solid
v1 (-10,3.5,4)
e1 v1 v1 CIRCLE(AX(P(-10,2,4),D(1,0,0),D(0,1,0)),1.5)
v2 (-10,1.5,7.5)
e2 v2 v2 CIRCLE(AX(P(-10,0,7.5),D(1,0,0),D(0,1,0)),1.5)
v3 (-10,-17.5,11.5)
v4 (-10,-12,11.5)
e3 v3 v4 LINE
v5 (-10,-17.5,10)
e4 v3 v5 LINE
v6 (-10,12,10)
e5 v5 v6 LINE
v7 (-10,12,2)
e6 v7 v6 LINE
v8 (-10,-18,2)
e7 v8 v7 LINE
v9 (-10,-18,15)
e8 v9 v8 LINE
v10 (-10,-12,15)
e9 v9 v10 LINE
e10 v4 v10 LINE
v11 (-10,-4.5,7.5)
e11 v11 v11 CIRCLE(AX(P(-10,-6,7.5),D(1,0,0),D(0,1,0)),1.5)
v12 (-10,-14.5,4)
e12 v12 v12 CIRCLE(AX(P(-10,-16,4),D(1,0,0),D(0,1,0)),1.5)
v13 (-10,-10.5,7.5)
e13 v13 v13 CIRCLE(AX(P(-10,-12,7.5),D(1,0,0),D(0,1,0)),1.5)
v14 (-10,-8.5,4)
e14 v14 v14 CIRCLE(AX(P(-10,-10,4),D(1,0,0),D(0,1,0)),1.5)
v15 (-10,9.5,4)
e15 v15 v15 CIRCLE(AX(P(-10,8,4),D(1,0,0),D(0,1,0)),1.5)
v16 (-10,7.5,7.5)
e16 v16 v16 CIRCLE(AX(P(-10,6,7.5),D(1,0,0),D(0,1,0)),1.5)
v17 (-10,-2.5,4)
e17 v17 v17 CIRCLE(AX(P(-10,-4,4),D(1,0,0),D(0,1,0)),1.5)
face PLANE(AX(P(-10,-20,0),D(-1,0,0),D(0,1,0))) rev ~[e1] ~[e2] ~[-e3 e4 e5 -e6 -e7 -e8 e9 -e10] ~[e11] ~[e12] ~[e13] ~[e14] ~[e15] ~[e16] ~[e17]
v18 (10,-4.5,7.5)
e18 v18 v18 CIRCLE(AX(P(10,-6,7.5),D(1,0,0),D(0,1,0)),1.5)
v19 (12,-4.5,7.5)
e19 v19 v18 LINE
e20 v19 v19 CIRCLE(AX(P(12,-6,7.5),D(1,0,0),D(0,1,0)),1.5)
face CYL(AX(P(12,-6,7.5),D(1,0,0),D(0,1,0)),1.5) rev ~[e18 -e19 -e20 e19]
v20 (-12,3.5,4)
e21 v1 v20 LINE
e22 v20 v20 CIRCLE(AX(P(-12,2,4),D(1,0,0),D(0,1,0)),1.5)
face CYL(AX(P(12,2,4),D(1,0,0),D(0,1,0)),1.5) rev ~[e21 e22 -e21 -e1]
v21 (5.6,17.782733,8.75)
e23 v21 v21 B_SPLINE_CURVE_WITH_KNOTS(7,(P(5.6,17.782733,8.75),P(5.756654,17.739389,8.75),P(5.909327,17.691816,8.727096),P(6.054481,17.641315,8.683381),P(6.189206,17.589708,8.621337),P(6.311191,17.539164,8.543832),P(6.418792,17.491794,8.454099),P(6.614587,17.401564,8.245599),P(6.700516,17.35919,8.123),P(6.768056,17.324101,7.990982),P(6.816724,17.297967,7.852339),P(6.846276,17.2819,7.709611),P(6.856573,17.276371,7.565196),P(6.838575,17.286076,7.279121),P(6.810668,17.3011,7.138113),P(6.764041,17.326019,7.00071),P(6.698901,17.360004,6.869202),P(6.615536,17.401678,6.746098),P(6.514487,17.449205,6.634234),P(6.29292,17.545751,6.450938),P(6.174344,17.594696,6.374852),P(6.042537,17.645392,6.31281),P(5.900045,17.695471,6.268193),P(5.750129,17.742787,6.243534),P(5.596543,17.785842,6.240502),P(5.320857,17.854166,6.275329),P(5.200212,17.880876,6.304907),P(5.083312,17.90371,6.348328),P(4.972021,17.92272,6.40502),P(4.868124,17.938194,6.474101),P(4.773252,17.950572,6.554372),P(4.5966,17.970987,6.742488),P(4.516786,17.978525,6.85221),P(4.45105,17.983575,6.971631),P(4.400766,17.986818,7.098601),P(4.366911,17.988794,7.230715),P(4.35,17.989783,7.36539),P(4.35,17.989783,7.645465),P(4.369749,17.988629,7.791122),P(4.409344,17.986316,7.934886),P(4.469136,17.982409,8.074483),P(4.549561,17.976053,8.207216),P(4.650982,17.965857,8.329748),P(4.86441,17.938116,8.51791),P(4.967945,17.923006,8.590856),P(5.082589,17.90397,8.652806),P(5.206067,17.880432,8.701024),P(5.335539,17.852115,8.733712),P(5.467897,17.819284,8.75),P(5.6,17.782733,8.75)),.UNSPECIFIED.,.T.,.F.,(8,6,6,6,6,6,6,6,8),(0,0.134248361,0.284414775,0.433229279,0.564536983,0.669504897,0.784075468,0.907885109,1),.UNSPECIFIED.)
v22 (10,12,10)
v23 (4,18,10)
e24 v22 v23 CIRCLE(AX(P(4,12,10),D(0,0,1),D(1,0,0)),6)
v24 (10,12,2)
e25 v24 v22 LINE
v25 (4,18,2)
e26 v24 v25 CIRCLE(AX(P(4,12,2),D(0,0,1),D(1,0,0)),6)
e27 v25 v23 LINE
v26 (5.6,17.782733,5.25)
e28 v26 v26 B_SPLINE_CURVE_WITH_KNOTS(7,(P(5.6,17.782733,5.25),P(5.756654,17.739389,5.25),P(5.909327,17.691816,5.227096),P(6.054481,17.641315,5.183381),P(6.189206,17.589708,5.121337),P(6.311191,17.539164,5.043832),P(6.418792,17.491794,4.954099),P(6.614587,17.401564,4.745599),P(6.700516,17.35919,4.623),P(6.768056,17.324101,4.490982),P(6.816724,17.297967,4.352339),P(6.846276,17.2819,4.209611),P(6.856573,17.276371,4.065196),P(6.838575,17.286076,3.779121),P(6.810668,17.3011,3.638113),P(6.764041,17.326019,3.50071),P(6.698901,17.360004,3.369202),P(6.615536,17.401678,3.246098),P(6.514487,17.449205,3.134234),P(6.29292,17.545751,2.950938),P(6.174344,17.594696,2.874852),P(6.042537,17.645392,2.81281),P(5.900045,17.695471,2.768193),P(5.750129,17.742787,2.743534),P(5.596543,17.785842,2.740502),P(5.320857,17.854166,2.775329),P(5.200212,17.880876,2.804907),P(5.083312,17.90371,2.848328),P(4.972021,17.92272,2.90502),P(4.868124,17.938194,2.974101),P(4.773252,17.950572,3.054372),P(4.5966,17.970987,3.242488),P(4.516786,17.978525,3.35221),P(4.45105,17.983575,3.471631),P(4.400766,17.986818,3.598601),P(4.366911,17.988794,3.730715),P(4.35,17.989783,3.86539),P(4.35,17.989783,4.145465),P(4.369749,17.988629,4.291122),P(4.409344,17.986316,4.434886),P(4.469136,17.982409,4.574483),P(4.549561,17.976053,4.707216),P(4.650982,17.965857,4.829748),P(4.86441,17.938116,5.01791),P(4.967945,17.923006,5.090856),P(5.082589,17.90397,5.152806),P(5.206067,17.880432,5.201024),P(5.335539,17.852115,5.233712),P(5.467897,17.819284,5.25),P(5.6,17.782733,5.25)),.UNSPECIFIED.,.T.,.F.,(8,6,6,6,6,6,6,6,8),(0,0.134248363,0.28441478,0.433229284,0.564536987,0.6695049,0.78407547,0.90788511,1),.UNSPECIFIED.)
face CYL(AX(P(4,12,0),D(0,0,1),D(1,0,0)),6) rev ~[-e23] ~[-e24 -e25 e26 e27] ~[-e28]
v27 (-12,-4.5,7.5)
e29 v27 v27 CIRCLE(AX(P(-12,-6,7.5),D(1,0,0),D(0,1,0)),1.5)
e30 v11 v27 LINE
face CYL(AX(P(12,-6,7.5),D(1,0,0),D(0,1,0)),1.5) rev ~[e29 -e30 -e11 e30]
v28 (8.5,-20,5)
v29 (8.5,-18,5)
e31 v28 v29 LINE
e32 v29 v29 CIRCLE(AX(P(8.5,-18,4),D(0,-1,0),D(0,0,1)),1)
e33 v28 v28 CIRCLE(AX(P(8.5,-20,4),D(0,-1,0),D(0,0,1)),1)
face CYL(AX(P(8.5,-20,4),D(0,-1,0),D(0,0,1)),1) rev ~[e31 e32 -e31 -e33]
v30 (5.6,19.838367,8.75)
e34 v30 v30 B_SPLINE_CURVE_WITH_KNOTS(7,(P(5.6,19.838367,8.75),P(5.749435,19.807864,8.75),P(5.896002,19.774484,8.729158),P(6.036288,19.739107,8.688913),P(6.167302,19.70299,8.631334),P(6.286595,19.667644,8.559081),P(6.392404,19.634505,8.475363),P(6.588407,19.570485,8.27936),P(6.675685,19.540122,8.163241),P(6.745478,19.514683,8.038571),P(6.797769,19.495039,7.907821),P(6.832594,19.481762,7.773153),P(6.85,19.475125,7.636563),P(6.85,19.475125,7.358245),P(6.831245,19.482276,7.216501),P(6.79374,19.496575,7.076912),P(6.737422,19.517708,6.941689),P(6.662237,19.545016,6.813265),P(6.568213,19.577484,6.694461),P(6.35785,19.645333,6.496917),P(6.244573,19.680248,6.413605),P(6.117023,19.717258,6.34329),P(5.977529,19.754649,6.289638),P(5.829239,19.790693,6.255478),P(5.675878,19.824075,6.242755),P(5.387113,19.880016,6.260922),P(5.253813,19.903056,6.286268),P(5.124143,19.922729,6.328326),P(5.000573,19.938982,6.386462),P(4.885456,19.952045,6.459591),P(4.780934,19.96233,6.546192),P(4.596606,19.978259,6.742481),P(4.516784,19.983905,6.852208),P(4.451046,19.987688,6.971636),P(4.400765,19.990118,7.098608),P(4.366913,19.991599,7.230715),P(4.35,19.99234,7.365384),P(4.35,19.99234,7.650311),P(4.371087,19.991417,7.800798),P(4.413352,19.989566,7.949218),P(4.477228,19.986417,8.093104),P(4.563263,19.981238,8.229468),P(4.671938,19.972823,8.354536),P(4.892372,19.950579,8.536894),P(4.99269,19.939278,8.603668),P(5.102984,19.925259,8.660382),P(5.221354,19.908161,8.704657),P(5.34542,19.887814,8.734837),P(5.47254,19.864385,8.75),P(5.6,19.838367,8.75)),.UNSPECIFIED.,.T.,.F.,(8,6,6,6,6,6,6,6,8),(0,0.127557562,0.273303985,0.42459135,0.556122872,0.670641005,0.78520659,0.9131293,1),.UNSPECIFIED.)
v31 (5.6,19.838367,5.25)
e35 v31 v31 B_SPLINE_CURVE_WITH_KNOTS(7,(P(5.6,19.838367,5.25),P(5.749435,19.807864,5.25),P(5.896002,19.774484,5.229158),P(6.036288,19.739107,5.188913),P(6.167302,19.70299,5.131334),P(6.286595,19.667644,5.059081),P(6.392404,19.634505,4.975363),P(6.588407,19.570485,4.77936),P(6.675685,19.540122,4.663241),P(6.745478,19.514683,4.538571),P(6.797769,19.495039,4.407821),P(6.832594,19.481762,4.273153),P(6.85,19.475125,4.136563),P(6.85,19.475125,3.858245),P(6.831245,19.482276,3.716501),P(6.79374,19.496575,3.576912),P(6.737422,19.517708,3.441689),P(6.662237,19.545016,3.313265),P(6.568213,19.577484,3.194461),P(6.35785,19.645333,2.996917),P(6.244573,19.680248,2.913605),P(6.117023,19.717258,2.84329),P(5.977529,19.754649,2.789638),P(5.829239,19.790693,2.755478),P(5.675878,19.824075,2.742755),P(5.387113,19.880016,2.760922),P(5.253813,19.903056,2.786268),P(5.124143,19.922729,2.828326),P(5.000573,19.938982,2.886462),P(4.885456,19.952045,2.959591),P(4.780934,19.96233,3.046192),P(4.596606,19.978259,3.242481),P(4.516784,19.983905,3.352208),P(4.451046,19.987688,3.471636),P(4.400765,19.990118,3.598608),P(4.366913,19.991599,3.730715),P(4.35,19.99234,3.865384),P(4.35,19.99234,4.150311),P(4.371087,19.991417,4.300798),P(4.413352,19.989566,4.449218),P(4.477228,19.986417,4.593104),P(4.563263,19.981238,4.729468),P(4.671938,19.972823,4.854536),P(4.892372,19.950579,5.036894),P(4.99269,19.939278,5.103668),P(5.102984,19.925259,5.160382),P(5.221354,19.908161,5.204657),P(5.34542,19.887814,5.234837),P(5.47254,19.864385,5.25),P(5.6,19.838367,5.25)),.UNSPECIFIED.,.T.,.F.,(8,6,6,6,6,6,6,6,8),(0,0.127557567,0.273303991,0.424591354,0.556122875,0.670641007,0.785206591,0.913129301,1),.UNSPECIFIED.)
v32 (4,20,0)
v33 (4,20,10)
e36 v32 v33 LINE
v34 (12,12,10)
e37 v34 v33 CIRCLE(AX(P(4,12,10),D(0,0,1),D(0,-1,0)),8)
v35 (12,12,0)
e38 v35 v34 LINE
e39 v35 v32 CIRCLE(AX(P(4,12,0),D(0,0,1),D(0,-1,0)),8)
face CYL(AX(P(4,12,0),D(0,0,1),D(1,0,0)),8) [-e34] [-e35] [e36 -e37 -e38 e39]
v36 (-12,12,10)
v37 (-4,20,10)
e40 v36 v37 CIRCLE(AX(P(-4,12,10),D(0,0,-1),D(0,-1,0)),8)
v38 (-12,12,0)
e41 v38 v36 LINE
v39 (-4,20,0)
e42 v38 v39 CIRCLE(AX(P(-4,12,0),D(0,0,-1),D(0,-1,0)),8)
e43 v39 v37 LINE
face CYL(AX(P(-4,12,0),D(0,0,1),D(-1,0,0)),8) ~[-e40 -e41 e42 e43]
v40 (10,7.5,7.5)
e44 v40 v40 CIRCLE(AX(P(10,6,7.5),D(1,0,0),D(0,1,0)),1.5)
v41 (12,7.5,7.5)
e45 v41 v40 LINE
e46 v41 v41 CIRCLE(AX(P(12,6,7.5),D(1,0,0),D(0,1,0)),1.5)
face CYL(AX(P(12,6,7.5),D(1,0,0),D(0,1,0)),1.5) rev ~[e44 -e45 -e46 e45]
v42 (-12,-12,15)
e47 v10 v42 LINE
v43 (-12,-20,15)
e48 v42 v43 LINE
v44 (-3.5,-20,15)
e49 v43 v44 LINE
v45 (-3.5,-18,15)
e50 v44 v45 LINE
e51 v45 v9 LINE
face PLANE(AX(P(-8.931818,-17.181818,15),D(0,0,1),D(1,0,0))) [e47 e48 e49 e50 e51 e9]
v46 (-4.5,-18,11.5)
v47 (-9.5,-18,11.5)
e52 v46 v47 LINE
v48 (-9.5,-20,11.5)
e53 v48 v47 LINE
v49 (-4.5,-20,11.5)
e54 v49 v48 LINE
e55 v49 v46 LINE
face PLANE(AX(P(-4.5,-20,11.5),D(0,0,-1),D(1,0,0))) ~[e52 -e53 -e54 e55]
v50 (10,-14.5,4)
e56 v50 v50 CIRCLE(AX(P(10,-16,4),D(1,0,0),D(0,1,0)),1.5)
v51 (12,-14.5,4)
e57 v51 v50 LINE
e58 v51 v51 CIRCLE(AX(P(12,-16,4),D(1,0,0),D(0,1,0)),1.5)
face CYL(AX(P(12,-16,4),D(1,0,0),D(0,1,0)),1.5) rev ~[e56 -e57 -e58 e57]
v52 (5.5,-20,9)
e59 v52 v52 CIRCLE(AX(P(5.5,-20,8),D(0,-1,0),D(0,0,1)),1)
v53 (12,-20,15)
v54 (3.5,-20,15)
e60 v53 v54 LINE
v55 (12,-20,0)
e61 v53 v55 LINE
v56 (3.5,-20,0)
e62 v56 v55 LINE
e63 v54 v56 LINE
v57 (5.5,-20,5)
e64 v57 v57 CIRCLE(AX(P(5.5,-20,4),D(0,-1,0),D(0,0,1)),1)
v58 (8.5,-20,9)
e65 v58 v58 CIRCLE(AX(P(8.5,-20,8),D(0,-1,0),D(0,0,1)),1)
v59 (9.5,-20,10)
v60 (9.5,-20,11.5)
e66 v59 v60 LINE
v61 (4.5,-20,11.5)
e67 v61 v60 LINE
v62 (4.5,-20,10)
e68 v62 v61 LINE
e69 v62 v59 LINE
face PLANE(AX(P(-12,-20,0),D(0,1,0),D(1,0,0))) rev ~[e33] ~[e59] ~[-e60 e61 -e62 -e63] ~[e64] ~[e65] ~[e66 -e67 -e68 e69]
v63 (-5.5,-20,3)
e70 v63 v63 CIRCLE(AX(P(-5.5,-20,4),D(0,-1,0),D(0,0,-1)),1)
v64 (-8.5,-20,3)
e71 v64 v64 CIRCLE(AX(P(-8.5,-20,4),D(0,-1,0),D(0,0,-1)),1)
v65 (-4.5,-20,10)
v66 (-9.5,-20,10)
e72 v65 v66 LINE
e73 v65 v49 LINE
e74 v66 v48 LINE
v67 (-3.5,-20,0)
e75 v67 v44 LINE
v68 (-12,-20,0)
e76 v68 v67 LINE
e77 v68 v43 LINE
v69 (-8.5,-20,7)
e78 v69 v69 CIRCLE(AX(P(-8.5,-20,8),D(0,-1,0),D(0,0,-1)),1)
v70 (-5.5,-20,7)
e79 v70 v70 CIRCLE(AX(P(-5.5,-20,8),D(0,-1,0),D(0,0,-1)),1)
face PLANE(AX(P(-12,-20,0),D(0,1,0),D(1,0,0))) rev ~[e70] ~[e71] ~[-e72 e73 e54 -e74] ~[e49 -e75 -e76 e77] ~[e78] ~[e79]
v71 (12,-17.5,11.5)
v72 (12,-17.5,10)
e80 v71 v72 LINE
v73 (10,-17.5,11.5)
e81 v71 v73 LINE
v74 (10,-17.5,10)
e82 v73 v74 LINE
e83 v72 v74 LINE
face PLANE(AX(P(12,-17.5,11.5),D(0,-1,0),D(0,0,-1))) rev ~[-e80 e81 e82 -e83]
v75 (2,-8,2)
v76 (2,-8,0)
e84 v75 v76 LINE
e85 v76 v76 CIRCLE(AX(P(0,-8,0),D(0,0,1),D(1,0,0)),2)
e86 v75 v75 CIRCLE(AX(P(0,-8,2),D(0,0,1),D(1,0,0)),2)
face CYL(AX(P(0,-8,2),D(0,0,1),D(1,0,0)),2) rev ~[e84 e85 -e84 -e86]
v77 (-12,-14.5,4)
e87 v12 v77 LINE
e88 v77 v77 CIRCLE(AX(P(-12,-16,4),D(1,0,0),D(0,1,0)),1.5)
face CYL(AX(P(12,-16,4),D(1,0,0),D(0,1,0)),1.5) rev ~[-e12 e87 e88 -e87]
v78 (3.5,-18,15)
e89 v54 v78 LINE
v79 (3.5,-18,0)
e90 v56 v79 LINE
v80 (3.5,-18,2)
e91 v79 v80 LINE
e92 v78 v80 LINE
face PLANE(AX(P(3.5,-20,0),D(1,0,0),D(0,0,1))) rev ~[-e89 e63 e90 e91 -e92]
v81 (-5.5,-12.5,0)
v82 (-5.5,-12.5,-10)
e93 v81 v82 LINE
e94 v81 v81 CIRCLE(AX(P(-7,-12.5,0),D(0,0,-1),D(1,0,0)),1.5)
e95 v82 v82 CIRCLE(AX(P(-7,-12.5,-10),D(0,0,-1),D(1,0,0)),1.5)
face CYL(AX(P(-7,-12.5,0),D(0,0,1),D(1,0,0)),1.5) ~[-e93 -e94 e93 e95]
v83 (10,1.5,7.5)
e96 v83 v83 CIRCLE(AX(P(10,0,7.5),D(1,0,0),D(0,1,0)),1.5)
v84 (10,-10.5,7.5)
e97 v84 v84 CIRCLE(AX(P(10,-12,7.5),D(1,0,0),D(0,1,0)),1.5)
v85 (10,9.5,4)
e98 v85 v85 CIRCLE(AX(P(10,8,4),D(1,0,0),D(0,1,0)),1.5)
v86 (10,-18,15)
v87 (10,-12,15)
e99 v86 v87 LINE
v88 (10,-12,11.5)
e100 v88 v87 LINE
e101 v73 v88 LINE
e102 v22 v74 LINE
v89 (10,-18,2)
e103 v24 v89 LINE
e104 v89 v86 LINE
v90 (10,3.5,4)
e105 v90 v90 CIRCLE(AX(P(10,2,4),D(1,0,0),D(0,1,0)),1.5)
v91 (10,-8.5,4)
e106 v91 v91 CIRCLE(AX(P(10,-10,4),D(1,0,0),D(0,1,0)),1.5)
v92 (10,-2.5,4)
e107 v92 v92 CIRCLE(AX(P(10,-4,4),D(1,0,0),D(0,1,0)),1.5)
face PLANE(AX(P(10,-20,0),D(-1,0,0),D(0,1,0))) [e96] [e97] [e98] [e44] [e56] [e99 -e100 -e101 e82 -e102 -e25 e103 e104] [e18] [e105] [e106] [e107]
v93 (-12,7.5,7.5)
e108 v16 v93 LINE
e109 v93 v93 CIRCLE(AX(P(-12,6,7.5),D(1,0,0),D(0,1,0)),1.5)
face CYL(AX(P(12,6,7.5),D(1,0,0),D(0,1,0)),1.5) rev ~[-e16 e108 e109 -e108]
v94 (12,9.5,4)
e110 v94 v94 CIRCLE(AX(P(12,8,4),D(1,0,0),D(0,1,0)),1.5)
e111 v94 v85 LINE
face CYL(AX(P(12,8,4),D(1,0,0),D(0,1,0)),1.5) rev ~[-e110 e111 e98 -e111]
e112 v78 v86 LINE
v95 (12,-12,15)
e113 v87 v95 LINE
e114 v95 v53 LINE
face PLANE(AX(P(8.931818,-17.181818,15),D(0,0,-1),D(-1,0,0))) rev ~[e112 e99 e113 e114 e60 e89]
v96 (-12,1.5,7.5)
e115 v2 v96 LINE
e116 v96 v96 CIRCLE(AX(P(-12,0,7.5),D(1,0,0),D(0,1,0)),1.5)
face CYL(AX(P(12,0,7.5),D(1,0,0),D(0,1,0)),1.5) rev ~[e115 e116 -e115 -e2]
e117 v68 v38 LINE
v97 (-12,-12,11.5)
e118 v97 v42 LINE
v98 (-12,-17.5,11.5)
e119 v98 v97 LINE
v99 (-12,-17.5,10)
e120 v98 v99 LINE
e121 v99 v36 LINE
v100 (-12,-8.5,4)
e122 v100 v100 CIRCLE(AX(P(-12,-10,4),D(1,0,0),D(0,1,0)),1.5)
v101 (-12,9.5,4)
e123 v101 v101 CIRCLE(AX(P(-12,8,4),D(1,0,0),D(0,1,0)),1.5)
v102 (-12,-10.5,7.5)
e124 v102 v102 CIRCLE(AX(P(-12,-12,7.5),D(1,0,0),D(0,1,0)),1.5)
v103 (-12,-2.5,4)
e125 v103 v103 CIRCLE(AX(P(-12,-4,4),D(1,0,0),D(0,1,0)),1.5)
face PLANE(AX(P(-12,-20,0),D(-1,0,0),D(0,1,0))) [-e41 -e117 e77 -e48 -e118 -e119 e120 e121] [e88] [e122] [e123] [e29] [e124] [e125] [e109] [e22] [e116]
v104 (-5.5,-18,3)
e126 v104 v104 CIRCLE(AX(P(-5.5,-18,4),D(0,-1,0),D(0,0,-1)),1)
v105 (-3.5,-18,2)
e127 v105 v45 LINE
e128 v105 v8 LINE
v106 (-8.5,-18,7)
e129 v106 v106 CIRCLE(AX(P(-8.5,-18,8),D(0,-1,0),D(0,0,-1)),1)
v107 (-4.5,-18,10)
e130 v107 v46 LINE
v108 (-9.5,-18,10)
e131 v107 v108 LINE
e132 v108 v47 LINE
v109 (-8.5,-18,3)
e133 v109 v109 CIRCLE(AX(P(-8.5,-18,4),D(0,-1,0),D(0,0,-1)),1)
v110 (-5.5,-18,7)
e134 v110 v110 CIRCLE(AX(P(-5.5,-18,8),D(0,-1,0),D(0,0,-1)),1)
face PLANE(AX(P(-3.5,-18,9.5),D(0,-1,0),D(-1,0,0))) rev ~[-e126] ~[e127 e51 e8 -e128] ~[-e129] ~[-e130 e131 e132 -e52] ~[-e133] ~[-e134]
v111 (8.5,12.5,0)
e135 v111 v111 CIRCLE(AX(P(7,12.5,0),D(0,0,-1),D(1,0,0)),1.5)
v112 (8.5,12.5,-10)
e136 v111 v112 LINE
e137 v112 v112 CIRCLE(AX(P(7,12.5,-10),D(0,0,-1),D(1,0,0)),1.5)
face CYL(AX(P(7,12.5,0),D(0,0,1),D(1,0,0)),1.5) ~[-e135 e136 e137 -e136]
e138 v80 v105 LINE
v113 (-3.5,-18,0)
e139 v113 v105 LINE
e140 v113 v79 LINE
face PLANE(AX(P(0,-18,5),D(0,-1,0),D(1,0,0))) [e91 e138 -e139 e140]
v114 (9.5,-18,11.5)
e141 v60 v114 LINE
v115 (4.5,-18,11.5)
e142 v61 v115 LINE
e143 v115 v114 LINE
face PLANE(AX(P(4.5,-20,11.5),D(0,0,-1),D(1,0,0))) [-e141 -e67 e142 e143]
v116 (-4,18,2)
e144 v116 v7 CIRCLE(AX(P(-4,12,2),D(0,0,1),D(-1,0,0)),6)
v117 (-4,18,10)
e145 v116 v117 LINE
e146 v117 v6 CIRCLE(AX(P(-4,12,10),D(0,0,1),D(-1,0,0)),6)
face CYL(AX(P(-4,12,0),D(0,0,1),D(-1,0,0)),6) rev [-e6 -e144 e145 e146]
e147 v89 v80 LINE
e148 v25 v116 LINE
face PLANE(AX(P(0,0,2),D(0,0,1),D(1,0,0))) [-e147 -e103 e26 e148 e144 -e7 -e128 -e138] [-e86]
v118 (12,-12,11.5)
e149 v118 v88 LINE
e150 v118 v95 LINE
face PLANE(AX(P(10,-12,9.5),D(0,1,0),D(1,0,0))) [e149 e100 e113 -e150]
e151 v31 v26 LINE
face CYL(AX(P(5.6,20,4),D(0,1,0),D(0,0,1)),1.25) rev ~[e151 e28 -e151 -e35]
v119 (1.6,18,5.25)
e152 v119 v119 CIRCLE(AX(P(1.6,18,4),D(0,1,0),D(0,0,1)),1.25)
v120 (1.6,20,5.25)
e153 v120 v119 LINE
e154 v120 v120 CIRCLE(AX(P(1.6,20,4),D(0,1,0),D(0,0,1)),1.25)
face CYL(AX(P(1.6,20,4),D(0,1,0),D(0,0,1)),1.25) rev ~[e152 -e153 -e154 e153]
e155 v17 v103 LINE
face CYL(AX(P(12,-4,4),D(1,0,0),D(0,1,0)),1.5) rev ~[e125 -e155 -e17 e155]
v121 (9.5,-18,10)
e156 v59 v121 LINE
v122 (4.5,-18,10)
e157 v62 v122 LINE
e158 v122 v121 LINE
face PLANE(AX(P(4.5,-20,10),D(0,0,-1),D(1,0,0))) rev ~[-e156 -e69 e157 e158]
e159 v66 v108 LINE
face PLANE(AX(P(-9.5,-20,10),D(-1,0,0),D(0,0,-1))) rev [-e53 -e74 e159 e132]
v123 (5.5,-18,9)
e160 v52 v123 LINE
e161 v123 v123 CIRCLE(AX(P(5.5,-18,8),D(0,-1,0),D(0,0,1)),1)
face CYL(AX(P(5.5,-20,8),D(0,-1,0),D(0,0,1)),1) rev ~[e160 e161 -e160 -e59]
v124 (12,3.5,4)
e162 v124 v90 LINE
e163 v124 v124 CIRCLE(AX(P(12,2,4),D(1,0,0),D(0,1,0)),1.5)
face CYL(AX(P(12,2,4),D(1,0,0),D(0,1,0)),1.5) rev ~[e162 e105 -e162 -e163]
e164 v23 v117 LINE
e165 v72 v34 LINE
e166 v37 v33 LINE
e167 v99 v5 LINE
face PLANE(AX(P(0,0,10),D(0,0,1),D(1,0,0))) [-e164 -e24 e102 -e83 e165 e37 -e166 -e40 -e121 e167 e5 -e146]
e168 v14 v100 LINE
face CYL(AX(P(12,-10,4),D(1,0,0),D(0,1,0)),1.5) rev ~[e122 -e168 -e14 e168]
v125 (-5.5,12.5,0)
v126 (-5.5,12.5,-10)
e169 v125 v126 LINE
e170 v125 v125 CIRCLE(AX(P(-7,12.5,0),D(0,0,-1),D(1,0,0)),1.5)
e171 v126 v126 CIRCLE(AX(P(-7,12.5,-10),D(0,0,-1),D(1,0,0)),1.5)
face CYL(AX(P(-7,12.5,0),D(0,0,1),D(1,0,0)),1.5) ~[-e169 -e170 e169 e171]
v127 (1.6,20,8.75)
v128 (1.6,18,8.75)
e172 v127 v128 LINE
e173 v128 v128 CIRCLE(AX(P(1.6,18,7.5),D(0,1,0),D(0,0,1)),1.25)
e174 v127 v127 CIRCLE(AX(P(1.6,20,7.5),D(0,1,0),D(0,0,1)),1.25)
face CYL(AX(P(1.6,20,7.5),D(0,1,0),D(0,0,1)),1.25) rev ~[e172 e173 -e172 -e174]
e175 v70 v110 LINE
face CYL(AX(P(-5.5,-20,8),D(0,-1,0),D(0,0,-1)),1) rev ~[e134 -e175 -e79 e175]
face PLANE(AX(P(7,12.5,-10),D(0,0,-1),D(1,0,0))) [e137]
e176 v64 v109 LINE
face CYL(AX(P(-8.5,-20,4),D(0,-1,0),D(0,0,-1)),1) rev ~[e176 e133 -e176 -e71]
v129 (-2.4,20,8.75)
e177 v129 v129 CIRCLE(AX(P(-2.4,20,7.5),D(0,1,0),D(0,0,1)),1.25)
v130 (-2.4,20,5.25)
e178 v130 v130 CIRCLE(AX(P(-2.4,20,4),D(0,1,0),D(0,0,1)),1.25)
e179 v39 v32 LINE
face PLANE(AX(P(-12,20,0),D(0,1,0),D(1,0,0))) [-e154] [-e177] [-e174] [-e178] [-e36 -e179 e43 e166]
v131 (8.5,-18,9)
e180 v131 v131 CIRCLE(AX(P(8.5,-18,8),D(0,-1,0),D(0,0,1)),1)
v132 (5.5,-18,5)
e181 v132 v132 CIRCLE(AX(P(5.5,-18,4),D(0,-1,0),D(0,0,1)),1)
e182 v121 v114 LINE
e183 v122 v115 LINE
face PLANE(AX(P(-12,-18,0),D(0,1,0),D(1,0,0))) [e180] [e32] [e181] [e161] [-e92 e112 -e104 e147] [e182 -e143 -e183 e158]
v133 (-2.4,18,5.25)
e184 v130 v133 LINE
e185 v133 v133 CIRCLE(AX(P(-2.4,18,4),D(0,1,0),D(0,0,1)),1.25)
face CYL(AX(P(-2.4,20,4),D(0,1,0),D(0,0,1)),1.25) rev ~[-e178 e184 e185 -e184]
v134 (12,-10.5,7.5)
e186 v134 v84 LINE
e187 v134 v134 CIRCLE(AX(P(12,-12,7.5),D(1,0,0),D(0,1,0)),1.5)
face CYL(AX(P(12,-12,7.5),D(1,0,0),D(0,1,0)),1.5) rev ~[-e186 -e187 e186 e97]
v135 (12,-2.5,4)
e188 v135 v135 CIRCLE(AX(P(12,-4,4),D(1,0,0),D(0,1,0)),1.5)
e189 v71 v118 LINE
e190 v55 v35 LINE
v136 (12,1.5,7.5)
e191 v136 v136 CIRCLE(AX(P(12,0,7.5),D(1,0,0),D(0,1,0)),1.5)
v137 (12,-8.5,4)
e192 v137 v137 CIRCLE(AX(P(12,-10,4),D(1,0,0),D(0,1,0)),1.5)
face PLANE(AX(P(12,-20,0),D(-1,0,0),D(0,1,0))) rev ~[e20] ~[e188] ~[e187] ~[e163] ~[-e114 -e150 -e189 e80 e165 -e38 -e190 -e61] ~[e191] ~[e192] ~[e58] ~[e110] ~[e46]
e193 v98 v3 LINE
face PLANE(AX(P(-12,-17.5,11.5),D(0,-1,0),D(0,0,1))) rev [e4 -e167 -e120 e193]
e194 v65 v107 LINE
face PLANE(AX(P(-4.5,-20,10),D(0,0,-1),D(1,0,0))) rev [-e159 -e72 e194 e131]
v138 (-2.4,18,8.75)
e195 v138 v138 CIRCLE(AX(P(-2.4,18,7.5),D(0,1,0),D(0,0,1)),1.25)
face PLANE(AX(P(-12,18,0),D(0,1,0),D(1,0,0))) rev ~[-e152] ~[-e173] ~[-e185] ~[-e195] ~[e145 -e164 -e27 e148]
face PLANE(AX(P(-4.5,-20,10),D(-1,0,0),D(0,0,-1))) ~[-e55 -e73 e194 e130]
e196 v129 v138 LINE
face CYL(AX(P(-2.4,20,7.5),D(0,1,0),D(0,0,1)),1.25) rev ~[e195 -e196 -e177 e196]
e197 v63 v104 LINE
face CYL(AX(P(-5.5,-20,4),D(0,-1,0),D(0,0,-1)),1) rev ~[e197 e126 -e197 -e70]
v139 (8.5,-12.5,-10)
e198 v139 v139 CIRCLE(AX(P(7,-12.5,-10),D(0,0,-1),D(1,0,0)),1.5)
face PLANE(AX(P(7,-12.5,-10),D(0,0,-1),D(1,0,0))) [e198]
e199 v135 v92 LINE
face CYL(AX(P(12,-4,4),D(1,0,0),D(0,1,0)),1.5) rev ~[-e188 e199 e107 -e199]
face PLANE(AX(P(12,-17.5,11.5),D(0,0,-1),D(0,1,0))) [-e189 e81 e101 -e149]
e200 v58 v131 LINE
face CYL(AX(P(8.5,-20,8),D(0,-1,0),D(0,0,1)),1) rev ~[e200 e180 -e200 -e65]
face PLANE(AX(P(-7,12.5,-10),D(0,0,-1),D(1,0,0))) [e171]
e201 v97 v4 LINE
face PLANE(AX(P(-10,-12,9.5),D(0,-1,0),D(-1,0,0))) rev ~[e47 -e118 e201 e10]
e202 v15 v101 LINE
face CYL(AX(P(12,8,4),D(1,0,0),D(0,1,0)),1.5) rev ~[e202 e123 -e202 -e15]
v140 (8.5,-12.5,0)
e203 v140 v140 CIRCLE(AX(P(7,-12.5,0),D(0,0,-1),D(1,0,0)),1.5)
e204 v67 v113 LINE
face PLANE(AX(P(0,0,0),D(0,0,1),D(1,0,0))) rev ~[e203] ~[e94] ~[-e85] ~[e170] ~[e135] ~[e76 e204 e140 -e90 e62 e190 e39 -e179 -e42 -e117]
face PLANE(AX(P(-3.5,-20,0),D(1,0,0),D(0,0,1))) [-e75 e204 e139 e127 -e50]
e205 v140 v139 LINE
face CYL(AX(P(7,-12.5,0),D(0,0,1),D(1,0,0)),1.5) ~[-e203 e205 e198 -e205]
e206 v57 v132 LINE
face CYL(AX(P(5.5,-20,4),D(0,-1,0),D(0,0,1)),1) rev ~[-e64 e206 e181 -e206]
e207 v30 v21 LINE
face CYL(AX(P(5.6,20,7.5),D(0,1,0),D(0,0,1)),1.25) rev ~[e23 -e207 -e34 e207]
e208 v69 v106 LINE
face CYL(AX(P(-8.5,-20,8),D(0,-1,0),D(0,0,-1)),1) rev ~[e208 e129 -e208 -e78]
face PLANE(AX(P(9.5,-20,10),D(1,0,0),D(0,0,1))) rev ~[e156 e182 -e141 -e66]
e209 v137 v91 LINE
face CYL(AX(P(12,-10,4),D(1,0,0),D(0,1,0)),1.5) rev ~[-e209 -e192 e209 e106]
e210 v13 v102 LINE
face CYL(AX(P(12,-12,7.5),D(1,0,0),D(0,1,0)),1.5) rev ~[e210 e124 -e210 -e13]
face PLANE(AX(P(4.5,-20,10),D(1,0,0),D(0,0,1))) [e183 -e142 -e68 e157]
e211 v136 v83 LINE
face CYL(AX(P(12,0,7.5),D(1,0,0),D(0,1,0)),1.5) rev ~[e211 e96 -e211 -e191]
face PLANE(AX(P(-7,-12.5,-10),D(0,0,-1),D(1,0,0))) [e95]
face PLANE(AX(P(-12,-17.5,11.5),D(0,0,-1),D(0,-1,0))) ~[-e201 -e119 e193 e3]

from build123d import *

# Parameters (mm, degrees)
ESQUISSE1_W             = 24
ESQUISSE1_H             = 40
BOSS_EXTRU_1_DEPTH      = 10
CONG_1_R                = 8
COQUE1_T                = -2
ESQUISSE2_W             = 7
ESQUISSE2_H             = 10
ENL_V_MAT_EXTRU_1_DEPTH = 2
ESQUISSE3_R             = 1.5
ENL_V_MAT_EXTRU_2_DEPTH = 33.802438934
ESQUISSE4_R             = 1.25
ENL_V_MAT_EXTRU_3_DEPTH = 13
ENL_V_MAT_EXTRU_4_REACH = 44.942
ESQUISSE5_R             = 1
BOSS_EXTRU_2_DEPTH      = 5
BOSS_EXTRU_2_DEPTH_BACK = 0.5
ENL_V_MAT_EXTRU_5_REACH = 36.655
ESQUISSE8_W             = 1.5
ESQUISSE8_H             = 5.5
ENL_V_MAT_EXTRU_6_REACH = 46.373
ESQUISSE9_W             = 5
ESQUISSE9_H             = 1.5
ENL_V_MAT_EXTRU_7_REACH = 28.702
ESQUISSE10_R            = 2
ESQUISSE11_R            = 1.5
BOSS_EXTRU_3_DEPTH      = 10


with BuildPart() as part:
    # Esquisse1 → Boss.-Extru.1 (new body)
    with BuildSketch(Plane.XY):
        Rectangle(ESQUISSE1_W, ESQUISSE1_H)
    extrude(amount=BOSS_EXTRU_1_DEPTH)

    # Congé1
    cong_1_edges = [part.edges().sort_by_distance(p)[0] for p in [
        (-12, 20, 5),
        (12, 20, 5),
    ]]
    fillet(cong_1_edges, radius=CONG_1_R)

    # Coque1
    coque1_openings = [part.faces().sort_by_distance(p)[0] for p in [
        (0, -0.536491662, 10),
    ]]
    offset(amount=COQUE1_T, openings=coque1_openings, kind=Kind.INTERSECTION)

    # Esquisse2 → Enlèv. mat.-Extru.1 (cut)
    with BuildSketch(Plane.XZ.offset(20)):
        with Locations((0, 5)):
            Rectangle(ESQUISSE2_W, ESQUISSE2_H)
    extrude(amount=-ENL_V_MAT_EXTRU_1_DEPTH, mode=Mode.SUBTRACT)

    # Esquisse3 → Enlèv. mat.-Extru.2 (cut, through all)
    with BuildSketch(Plane(origin=(12, 0, 0), x_dir=(0, 0, -1), z_dir=(1, 0, 0))):
        with Locations(Location((-4, -16, 0), (0, 0, 90))):
            Circle(ESQUISSE3_R)
        with Locations(Location((-7.5, -12, 0), (0, 0, 90))):
            Circle(ESQUISSE3_R)
        with Locations(Location((-7.5, -6, 0), (0, 0, 90))):
            Circle(ESQUISSE3_R)
        with Locations(Location((-4, -10, 0), (0, 0, 90))):
            Circle(ESQUISSE3_R)
        with Locations(Location((-7.5, 0, 0), (0, 0, 90))):
            Circle(ESQUISSE3_R)
        with Locations(Location((-4, -4, 0), (0, 0, 90))):
            Circle(ESQUISSE3_R)
        with Locations(Location((-7.5, 6, 0), (0, 0, 90))):
            Circle(ESQUISSE3_R)
        with Locations(Location((-4, 2, 0), (0, 0, 90))):
            Circle(ESQUISSE3_R)
        with Locations(Location((-4, 8, 0), (0, 0, 90))):
            Circle(ESQUISSE3_R)
    extrude(amount=-ENL_V_MAT_EXTRU_2_DEPTH, mode=Mode.SUBTRACT)

    # Esquisse4 → Enlèv. mat.-Extru.3 (cut)
    with BuildSketch(Plane(origin=(0, 20, 0), x_dir=(1, 0, 0), z_dir=(0, 1, 0))):
        with Locations(Location((-2.4, -4, 0), (0, 0, 270))):
            Circle(ESQUISSE4_R)
        with Locations(Location((1.6, -4, 0), (0, 0, 270))):
            Circle(ESQUISSE4_R)
        with Locations(Location((5.6, -4, 0), (0, 0, 270))):
            Circle(ESQUISSE4_R)
        with Locations(Location((1.6, -7.5, 0), (0, 0, 270))):
            Circle(ESQUISSE4_R)
        with Locations(Location((5.6, -7.5, 0), (0, 0, 270))):
            Circle(ESQUISSE4_R)
        with Locations(Location((-2.4, -7.5, 0), (0, 0, 270))):
            Circle(ESQUISSE4_R)
    extrude(amount=-ENL_V_MAT_EXTRU_3_DEPTH, mode=Mode.SUBTRACT)

    # Esquisse5 → Enlèv. mat.-Extru.4 (cut, up to next)
    with BuildSketch(Plane.XZ.offset(20), mode=Mode.PRIVATE) as enl_v_mat_extru_4_sk1:
        with Locations(Location((-8.5, 8, 0), (0, 0, 270))):
            Circle(ESQUISSE5_R)
    enl_v_mat_extru_4_tool1 = extrude(enl_v_mat_extru_4_sk1.sketch, amount=-ENL_V_MAT_EXTRU_4_REACH, mode=Mode.PRIVATE) & part.part
    # Esquisse5 → Enlèv. mat.-Extru.4 (cut, up to next)
    with BuildSketch(Plane.XZ.offset(20), mode=Mode.PRIVATE) as enl_v_mat_extru_4_sk2:
        with Locations(Location((-5.5, 8, 0), (0, 0, 270))):
            Circle(ESQUISSE5_R)
    enl_v_mat_extru_4_tool2 = extrude(enl_v_mat_extru_4_sk2.sketch, amount=-ENL_V_MAT_EXTRU_4_REACH, mode=Mode.PRIVATE) & part.part
    # Esquisse5 → Enlèv. mat.-Extru.4 (cut, up to next)
    with BuildSketch(Plane.XZ.offset(20), mode=Mode.PRIVATE) as enl_v_mat_extru_4_sk3:
        with Locations(Location((-5.5, 4, 0), (0, 0, 270))):
            Circle(ESQUISSE5_R)
    enl_v_mat_extru_4_tool3 = extrude(enl_v_mat_extru_4_sk3.sketch, amount=-ENL_V_MAT_EXTRU_4_REACH, mode=Mode.PRIVATE) & part.part
    # Esquisse5 → Enlèv. mat.-Extru.4 (cut, up to next)
    with BuildSketch(Plane.XZ.offset(20), mode=Mode.PRIVATE) as enl_v_mat_extru_4_sk4:
        with Locations(Location((-8.5, 4, 0), (0, 0, 270))):
            Circle(ESQUISSE5_R)
    enl_v_mat_extru_4_tool4 = extrude(enl_v_mat_extru_4_sk4.sketch, amount=-ENL_V_MAT_EXTRU_4_REACH, mode=Mode.PRIVATE) & part.part
    # Esquisse5 → Enlèv. mat.-Extru.4 (cut, up to next)
    with BuildSketch(Plane.XZ.offset(20), mode=Mode.PRIVATE) as enl_v_mat_extru_4_sk5:
        with Locations(Location((8.5, 4, 0), (0, 0, 90))):
            Circle(ESQUISSE5_R)
    enl_v_mat_extru_4_tool5 = extrude(enl_v_mat_extru_4_sk5.sketch, amount=-ENL_V_MAT_EXTRU_4_REACH, mode=Mode.PRIVATE) & part.part
    # Esquisse5 → Enlèv. mat.-Extru.4 (cut, up to next)
    with BuildSketch(Plane.XZ.offset(20), mode=Mode.PRIVATE) as enl_v_mat_extru_4_sk6:
        with Locations(Location((5.5, 4, 0), (0, 0, 90))):
            Circle(ESQUISSE5_R)
    enl_v_mat_extru_4_tool6 = extrude(enl_v_mat_extru_4_sk6.sketch, amount=-ENL_V_MAT_EXTRU_4_REACH, mode=Mode.PRIVATE) & part.part
    # Esquisse5 → Enlèv. mat.-Extru.4 (cut, up to next)
    with BuildSketch(Plane.XZ.offset(20), mode=Mode.PRIVATE) as enl_v_mat_extru_4_sk7:
        with Locations(Location((5.5, 8, 0), (0, 0, 90))):
            Circle(ESQUISSE5_R)
    enl_v_mat_extru_4_tool7 = extrude(enl_v_mat_extru_4_sk7.sketch, amount=-ENL_V_MAT_EXTRU_4_REACH, mode=Mode.PRIVATE) & part.part
    # Esquisse5 → Enlèv. mat.-Extru.4 (cut, up to next)
    with BuildSketch(Plane.XZ.offset(20), mode=Mode.PRIVATE) as enl_v_mat_extru_4_sk8:
        with Locations(Location((8.5, 8, 0), (0, 0, 90))):
            Circle(ESQUISSE5_R)
    enl_v_mat_extru_4_tool8 = extrude(enl_v_mat_extru_4_sk8.sketch, amount=-ENL_V_MAT_EXTRU_4_REACH, mode=Mode.PRIVATE) & part.part
    add(enl_v_mat_extru_4_tool1.solids().sort_by_distance((-8.5, -20, 8))[0], mode=Mode.SUBTRACT)
    add(enl_v_mat_extru_4_tool2.solids().sort_by_distance((-5.5, -20, 8))[0], mode=Mode.SUBTRACT)
    add(enl_v_mat_extru_4_tool3.solids().sort_by_distance((-5.5, -20, 4))[0], mode=Mode.SUBTRACT)
    add(enl_v_mat_extru_4_tool4.solids().sort_by_distance((-8.5, -20, 4))[0], mode=Mode.SUBTRACT)
    add(enl_v_mat_extru_4_tool5.solids().sort_by_distance((8.5, -20, 4))[0], mode=Mode.SUBTRACT)
    add(enl_v_mat_extru_4_tool6.solids().sort_by_distance((5.5, -20, 4))[0], mode=Mode.SUBTRACT)
    add(enl_v_mat_extru_4_tool7.solids().sort_by_distance((5.5, -20, 8))[0], mode=Mode.SUBTRACT)
    add(enl_v_mat_extru_4_tool8.solids().sort_by_distance((8.5, -20, 8))[0], mode=Mode.SUBTRACT)

    # Esquisse7 → Boss.-Extru.2 (add, two sides: drawn at the far end of the back side and taken through both)
    with BuildSketch(Plane.XY.offset(10).offset(-BOSS_EXTRU_2_DEPTH_BACK)):
        Polygon((-12, -12), (-12, -20), (-3.5, -20), (-3.5, -18), (-10, -18), (-10, -12), align=None)
        Polygon((12, -12), (12, -20), (3.5, -20), (3.5, -18), (10, -18), (10, -12), align=None)
    extrude(amount=BOSS_EXTRU_2_DEPTH + BOSS_EXTRU_2_DEPTH_BACK)

    # Esquisse8 → Enlèv. mat.-Extru.5 (cut, up to next)
    with BuildSketch(Plane(origin=(12, 0, 0), x_dir=(0, 0, -1), z_dir=(1, 0, 0)), mode=Mode.PRIVATE) as enl_v_mat_extru_5_sk1:
        with Locations((-10.75, -14.75)):
            Rectangle(ESQUISSE8_W, ESQUISSE8_H)
    enl_v_mat_extru_5_tool1 = extrude(enl_v_mat_extru_5_sk1.sketch, amount=-ENL_V_MAT_EXTRU_5_REACH, mode=Mode.PRIVATE) & part.part
    enl_v_mat_extru_5 = enl_v_mat_extru_5_tool1.solids().sort_by_distance((12, -14.75, 10.75))[0]
    add(enl_v_mat_extru_5, mode=Mode.SUBTRACT)

    # Esquisse9 → Enlèv. mat.-Extru.6 (cut, up to next)
    with BuildSketch(Plane.XZ.offset(20), mode=Mode.PRIVATE) as enl_v_mat_extru_6_sk1:
        with Locations((7, 10.75)):
            Rectangle(ESQUISSE9_W, ESQUISSE9_H)
    enl_v_mat_extru_6_tool1 = extrude(enl_v_mat_extru_6_sk1.sketch, amount=-ENL_V_MAT_EXTRU_6_REACH, mode=Mode.PRIVATE) & part.part
    enl_v_mat_extru_6 = enl_v_mat_extru_6_tool1.solids().sort_by_distance((7, -20, 10.75))[0]
    add(enl_v_mat_extru_6, mode=Mode.SUBTRACT)

    # Symétrie1: Enlèv. mat.-Extru.5, Enlèv. mat.-Extru.6 across plane
    add(enl_v_mat_extru_5.mirror(Plane(origin=(0, 0, 0), x_dir=(0, 0, 1), z_dir=(1, 0, 0))), mode=Mode.SUBTRACT)
    add(enl_v_mat_extru_6.mirror(Plane(origin=(0, 0, 0), x_dir=(0, 0, 1), z_dir=(1, 0, 0))), mode=Mode.SUBTRACT)

    # Esquisse10 → Enlèv. mat.-Extru.7 (cut, up to next)
    with BuildSketch(Plane.XY.offset(2), mode=Mode.PRIVATE) as enl_v_mat_extru_7_sk1:
        with Locations((0, -8)):
            Circle(ESQUISSE10_R)
    enl_v_mat_extru_7_tool1 = extrude(enl_v_mat_extru_7_sk1.sketch, amount=-ENL_V_MAT_EXTRU_7_REACH, mode=Mode.PRIVATE) & part.part
    add(enl_v_mat_extru_7_tool1.solids().sort_by_distance((0, -8, 2))[0], mode=Mode.SUBTRACT)

    # Esquisse11 → Boss.-Extru.3 (add)
    with BuildSketch(Plane(origin=(0, 0, 0), x_dir=(-1, 0, 0), z_dir=(0, 0, -1))):
        with Locations(Location((-7, 12.5, 0), (0, 0, 180))):
            Circle(ESQUISSE11_R)
        with Locations(Location((7, 12.5, 0), (0, 0, 180))):
            Circle(ESQUISSE11_R)
        with Locations(Location((-7, -12.5, 0), (0, 0, 180))):
            Circle(ESQUISSE11_R)
        with Locations(Location((7, -12.5, 0), (0, 0, 180))):
            Circle(ESQUISSE11_R)
    extrude(amount=BOSS_EXTRU_3_DEPTH)


solid = part.part
